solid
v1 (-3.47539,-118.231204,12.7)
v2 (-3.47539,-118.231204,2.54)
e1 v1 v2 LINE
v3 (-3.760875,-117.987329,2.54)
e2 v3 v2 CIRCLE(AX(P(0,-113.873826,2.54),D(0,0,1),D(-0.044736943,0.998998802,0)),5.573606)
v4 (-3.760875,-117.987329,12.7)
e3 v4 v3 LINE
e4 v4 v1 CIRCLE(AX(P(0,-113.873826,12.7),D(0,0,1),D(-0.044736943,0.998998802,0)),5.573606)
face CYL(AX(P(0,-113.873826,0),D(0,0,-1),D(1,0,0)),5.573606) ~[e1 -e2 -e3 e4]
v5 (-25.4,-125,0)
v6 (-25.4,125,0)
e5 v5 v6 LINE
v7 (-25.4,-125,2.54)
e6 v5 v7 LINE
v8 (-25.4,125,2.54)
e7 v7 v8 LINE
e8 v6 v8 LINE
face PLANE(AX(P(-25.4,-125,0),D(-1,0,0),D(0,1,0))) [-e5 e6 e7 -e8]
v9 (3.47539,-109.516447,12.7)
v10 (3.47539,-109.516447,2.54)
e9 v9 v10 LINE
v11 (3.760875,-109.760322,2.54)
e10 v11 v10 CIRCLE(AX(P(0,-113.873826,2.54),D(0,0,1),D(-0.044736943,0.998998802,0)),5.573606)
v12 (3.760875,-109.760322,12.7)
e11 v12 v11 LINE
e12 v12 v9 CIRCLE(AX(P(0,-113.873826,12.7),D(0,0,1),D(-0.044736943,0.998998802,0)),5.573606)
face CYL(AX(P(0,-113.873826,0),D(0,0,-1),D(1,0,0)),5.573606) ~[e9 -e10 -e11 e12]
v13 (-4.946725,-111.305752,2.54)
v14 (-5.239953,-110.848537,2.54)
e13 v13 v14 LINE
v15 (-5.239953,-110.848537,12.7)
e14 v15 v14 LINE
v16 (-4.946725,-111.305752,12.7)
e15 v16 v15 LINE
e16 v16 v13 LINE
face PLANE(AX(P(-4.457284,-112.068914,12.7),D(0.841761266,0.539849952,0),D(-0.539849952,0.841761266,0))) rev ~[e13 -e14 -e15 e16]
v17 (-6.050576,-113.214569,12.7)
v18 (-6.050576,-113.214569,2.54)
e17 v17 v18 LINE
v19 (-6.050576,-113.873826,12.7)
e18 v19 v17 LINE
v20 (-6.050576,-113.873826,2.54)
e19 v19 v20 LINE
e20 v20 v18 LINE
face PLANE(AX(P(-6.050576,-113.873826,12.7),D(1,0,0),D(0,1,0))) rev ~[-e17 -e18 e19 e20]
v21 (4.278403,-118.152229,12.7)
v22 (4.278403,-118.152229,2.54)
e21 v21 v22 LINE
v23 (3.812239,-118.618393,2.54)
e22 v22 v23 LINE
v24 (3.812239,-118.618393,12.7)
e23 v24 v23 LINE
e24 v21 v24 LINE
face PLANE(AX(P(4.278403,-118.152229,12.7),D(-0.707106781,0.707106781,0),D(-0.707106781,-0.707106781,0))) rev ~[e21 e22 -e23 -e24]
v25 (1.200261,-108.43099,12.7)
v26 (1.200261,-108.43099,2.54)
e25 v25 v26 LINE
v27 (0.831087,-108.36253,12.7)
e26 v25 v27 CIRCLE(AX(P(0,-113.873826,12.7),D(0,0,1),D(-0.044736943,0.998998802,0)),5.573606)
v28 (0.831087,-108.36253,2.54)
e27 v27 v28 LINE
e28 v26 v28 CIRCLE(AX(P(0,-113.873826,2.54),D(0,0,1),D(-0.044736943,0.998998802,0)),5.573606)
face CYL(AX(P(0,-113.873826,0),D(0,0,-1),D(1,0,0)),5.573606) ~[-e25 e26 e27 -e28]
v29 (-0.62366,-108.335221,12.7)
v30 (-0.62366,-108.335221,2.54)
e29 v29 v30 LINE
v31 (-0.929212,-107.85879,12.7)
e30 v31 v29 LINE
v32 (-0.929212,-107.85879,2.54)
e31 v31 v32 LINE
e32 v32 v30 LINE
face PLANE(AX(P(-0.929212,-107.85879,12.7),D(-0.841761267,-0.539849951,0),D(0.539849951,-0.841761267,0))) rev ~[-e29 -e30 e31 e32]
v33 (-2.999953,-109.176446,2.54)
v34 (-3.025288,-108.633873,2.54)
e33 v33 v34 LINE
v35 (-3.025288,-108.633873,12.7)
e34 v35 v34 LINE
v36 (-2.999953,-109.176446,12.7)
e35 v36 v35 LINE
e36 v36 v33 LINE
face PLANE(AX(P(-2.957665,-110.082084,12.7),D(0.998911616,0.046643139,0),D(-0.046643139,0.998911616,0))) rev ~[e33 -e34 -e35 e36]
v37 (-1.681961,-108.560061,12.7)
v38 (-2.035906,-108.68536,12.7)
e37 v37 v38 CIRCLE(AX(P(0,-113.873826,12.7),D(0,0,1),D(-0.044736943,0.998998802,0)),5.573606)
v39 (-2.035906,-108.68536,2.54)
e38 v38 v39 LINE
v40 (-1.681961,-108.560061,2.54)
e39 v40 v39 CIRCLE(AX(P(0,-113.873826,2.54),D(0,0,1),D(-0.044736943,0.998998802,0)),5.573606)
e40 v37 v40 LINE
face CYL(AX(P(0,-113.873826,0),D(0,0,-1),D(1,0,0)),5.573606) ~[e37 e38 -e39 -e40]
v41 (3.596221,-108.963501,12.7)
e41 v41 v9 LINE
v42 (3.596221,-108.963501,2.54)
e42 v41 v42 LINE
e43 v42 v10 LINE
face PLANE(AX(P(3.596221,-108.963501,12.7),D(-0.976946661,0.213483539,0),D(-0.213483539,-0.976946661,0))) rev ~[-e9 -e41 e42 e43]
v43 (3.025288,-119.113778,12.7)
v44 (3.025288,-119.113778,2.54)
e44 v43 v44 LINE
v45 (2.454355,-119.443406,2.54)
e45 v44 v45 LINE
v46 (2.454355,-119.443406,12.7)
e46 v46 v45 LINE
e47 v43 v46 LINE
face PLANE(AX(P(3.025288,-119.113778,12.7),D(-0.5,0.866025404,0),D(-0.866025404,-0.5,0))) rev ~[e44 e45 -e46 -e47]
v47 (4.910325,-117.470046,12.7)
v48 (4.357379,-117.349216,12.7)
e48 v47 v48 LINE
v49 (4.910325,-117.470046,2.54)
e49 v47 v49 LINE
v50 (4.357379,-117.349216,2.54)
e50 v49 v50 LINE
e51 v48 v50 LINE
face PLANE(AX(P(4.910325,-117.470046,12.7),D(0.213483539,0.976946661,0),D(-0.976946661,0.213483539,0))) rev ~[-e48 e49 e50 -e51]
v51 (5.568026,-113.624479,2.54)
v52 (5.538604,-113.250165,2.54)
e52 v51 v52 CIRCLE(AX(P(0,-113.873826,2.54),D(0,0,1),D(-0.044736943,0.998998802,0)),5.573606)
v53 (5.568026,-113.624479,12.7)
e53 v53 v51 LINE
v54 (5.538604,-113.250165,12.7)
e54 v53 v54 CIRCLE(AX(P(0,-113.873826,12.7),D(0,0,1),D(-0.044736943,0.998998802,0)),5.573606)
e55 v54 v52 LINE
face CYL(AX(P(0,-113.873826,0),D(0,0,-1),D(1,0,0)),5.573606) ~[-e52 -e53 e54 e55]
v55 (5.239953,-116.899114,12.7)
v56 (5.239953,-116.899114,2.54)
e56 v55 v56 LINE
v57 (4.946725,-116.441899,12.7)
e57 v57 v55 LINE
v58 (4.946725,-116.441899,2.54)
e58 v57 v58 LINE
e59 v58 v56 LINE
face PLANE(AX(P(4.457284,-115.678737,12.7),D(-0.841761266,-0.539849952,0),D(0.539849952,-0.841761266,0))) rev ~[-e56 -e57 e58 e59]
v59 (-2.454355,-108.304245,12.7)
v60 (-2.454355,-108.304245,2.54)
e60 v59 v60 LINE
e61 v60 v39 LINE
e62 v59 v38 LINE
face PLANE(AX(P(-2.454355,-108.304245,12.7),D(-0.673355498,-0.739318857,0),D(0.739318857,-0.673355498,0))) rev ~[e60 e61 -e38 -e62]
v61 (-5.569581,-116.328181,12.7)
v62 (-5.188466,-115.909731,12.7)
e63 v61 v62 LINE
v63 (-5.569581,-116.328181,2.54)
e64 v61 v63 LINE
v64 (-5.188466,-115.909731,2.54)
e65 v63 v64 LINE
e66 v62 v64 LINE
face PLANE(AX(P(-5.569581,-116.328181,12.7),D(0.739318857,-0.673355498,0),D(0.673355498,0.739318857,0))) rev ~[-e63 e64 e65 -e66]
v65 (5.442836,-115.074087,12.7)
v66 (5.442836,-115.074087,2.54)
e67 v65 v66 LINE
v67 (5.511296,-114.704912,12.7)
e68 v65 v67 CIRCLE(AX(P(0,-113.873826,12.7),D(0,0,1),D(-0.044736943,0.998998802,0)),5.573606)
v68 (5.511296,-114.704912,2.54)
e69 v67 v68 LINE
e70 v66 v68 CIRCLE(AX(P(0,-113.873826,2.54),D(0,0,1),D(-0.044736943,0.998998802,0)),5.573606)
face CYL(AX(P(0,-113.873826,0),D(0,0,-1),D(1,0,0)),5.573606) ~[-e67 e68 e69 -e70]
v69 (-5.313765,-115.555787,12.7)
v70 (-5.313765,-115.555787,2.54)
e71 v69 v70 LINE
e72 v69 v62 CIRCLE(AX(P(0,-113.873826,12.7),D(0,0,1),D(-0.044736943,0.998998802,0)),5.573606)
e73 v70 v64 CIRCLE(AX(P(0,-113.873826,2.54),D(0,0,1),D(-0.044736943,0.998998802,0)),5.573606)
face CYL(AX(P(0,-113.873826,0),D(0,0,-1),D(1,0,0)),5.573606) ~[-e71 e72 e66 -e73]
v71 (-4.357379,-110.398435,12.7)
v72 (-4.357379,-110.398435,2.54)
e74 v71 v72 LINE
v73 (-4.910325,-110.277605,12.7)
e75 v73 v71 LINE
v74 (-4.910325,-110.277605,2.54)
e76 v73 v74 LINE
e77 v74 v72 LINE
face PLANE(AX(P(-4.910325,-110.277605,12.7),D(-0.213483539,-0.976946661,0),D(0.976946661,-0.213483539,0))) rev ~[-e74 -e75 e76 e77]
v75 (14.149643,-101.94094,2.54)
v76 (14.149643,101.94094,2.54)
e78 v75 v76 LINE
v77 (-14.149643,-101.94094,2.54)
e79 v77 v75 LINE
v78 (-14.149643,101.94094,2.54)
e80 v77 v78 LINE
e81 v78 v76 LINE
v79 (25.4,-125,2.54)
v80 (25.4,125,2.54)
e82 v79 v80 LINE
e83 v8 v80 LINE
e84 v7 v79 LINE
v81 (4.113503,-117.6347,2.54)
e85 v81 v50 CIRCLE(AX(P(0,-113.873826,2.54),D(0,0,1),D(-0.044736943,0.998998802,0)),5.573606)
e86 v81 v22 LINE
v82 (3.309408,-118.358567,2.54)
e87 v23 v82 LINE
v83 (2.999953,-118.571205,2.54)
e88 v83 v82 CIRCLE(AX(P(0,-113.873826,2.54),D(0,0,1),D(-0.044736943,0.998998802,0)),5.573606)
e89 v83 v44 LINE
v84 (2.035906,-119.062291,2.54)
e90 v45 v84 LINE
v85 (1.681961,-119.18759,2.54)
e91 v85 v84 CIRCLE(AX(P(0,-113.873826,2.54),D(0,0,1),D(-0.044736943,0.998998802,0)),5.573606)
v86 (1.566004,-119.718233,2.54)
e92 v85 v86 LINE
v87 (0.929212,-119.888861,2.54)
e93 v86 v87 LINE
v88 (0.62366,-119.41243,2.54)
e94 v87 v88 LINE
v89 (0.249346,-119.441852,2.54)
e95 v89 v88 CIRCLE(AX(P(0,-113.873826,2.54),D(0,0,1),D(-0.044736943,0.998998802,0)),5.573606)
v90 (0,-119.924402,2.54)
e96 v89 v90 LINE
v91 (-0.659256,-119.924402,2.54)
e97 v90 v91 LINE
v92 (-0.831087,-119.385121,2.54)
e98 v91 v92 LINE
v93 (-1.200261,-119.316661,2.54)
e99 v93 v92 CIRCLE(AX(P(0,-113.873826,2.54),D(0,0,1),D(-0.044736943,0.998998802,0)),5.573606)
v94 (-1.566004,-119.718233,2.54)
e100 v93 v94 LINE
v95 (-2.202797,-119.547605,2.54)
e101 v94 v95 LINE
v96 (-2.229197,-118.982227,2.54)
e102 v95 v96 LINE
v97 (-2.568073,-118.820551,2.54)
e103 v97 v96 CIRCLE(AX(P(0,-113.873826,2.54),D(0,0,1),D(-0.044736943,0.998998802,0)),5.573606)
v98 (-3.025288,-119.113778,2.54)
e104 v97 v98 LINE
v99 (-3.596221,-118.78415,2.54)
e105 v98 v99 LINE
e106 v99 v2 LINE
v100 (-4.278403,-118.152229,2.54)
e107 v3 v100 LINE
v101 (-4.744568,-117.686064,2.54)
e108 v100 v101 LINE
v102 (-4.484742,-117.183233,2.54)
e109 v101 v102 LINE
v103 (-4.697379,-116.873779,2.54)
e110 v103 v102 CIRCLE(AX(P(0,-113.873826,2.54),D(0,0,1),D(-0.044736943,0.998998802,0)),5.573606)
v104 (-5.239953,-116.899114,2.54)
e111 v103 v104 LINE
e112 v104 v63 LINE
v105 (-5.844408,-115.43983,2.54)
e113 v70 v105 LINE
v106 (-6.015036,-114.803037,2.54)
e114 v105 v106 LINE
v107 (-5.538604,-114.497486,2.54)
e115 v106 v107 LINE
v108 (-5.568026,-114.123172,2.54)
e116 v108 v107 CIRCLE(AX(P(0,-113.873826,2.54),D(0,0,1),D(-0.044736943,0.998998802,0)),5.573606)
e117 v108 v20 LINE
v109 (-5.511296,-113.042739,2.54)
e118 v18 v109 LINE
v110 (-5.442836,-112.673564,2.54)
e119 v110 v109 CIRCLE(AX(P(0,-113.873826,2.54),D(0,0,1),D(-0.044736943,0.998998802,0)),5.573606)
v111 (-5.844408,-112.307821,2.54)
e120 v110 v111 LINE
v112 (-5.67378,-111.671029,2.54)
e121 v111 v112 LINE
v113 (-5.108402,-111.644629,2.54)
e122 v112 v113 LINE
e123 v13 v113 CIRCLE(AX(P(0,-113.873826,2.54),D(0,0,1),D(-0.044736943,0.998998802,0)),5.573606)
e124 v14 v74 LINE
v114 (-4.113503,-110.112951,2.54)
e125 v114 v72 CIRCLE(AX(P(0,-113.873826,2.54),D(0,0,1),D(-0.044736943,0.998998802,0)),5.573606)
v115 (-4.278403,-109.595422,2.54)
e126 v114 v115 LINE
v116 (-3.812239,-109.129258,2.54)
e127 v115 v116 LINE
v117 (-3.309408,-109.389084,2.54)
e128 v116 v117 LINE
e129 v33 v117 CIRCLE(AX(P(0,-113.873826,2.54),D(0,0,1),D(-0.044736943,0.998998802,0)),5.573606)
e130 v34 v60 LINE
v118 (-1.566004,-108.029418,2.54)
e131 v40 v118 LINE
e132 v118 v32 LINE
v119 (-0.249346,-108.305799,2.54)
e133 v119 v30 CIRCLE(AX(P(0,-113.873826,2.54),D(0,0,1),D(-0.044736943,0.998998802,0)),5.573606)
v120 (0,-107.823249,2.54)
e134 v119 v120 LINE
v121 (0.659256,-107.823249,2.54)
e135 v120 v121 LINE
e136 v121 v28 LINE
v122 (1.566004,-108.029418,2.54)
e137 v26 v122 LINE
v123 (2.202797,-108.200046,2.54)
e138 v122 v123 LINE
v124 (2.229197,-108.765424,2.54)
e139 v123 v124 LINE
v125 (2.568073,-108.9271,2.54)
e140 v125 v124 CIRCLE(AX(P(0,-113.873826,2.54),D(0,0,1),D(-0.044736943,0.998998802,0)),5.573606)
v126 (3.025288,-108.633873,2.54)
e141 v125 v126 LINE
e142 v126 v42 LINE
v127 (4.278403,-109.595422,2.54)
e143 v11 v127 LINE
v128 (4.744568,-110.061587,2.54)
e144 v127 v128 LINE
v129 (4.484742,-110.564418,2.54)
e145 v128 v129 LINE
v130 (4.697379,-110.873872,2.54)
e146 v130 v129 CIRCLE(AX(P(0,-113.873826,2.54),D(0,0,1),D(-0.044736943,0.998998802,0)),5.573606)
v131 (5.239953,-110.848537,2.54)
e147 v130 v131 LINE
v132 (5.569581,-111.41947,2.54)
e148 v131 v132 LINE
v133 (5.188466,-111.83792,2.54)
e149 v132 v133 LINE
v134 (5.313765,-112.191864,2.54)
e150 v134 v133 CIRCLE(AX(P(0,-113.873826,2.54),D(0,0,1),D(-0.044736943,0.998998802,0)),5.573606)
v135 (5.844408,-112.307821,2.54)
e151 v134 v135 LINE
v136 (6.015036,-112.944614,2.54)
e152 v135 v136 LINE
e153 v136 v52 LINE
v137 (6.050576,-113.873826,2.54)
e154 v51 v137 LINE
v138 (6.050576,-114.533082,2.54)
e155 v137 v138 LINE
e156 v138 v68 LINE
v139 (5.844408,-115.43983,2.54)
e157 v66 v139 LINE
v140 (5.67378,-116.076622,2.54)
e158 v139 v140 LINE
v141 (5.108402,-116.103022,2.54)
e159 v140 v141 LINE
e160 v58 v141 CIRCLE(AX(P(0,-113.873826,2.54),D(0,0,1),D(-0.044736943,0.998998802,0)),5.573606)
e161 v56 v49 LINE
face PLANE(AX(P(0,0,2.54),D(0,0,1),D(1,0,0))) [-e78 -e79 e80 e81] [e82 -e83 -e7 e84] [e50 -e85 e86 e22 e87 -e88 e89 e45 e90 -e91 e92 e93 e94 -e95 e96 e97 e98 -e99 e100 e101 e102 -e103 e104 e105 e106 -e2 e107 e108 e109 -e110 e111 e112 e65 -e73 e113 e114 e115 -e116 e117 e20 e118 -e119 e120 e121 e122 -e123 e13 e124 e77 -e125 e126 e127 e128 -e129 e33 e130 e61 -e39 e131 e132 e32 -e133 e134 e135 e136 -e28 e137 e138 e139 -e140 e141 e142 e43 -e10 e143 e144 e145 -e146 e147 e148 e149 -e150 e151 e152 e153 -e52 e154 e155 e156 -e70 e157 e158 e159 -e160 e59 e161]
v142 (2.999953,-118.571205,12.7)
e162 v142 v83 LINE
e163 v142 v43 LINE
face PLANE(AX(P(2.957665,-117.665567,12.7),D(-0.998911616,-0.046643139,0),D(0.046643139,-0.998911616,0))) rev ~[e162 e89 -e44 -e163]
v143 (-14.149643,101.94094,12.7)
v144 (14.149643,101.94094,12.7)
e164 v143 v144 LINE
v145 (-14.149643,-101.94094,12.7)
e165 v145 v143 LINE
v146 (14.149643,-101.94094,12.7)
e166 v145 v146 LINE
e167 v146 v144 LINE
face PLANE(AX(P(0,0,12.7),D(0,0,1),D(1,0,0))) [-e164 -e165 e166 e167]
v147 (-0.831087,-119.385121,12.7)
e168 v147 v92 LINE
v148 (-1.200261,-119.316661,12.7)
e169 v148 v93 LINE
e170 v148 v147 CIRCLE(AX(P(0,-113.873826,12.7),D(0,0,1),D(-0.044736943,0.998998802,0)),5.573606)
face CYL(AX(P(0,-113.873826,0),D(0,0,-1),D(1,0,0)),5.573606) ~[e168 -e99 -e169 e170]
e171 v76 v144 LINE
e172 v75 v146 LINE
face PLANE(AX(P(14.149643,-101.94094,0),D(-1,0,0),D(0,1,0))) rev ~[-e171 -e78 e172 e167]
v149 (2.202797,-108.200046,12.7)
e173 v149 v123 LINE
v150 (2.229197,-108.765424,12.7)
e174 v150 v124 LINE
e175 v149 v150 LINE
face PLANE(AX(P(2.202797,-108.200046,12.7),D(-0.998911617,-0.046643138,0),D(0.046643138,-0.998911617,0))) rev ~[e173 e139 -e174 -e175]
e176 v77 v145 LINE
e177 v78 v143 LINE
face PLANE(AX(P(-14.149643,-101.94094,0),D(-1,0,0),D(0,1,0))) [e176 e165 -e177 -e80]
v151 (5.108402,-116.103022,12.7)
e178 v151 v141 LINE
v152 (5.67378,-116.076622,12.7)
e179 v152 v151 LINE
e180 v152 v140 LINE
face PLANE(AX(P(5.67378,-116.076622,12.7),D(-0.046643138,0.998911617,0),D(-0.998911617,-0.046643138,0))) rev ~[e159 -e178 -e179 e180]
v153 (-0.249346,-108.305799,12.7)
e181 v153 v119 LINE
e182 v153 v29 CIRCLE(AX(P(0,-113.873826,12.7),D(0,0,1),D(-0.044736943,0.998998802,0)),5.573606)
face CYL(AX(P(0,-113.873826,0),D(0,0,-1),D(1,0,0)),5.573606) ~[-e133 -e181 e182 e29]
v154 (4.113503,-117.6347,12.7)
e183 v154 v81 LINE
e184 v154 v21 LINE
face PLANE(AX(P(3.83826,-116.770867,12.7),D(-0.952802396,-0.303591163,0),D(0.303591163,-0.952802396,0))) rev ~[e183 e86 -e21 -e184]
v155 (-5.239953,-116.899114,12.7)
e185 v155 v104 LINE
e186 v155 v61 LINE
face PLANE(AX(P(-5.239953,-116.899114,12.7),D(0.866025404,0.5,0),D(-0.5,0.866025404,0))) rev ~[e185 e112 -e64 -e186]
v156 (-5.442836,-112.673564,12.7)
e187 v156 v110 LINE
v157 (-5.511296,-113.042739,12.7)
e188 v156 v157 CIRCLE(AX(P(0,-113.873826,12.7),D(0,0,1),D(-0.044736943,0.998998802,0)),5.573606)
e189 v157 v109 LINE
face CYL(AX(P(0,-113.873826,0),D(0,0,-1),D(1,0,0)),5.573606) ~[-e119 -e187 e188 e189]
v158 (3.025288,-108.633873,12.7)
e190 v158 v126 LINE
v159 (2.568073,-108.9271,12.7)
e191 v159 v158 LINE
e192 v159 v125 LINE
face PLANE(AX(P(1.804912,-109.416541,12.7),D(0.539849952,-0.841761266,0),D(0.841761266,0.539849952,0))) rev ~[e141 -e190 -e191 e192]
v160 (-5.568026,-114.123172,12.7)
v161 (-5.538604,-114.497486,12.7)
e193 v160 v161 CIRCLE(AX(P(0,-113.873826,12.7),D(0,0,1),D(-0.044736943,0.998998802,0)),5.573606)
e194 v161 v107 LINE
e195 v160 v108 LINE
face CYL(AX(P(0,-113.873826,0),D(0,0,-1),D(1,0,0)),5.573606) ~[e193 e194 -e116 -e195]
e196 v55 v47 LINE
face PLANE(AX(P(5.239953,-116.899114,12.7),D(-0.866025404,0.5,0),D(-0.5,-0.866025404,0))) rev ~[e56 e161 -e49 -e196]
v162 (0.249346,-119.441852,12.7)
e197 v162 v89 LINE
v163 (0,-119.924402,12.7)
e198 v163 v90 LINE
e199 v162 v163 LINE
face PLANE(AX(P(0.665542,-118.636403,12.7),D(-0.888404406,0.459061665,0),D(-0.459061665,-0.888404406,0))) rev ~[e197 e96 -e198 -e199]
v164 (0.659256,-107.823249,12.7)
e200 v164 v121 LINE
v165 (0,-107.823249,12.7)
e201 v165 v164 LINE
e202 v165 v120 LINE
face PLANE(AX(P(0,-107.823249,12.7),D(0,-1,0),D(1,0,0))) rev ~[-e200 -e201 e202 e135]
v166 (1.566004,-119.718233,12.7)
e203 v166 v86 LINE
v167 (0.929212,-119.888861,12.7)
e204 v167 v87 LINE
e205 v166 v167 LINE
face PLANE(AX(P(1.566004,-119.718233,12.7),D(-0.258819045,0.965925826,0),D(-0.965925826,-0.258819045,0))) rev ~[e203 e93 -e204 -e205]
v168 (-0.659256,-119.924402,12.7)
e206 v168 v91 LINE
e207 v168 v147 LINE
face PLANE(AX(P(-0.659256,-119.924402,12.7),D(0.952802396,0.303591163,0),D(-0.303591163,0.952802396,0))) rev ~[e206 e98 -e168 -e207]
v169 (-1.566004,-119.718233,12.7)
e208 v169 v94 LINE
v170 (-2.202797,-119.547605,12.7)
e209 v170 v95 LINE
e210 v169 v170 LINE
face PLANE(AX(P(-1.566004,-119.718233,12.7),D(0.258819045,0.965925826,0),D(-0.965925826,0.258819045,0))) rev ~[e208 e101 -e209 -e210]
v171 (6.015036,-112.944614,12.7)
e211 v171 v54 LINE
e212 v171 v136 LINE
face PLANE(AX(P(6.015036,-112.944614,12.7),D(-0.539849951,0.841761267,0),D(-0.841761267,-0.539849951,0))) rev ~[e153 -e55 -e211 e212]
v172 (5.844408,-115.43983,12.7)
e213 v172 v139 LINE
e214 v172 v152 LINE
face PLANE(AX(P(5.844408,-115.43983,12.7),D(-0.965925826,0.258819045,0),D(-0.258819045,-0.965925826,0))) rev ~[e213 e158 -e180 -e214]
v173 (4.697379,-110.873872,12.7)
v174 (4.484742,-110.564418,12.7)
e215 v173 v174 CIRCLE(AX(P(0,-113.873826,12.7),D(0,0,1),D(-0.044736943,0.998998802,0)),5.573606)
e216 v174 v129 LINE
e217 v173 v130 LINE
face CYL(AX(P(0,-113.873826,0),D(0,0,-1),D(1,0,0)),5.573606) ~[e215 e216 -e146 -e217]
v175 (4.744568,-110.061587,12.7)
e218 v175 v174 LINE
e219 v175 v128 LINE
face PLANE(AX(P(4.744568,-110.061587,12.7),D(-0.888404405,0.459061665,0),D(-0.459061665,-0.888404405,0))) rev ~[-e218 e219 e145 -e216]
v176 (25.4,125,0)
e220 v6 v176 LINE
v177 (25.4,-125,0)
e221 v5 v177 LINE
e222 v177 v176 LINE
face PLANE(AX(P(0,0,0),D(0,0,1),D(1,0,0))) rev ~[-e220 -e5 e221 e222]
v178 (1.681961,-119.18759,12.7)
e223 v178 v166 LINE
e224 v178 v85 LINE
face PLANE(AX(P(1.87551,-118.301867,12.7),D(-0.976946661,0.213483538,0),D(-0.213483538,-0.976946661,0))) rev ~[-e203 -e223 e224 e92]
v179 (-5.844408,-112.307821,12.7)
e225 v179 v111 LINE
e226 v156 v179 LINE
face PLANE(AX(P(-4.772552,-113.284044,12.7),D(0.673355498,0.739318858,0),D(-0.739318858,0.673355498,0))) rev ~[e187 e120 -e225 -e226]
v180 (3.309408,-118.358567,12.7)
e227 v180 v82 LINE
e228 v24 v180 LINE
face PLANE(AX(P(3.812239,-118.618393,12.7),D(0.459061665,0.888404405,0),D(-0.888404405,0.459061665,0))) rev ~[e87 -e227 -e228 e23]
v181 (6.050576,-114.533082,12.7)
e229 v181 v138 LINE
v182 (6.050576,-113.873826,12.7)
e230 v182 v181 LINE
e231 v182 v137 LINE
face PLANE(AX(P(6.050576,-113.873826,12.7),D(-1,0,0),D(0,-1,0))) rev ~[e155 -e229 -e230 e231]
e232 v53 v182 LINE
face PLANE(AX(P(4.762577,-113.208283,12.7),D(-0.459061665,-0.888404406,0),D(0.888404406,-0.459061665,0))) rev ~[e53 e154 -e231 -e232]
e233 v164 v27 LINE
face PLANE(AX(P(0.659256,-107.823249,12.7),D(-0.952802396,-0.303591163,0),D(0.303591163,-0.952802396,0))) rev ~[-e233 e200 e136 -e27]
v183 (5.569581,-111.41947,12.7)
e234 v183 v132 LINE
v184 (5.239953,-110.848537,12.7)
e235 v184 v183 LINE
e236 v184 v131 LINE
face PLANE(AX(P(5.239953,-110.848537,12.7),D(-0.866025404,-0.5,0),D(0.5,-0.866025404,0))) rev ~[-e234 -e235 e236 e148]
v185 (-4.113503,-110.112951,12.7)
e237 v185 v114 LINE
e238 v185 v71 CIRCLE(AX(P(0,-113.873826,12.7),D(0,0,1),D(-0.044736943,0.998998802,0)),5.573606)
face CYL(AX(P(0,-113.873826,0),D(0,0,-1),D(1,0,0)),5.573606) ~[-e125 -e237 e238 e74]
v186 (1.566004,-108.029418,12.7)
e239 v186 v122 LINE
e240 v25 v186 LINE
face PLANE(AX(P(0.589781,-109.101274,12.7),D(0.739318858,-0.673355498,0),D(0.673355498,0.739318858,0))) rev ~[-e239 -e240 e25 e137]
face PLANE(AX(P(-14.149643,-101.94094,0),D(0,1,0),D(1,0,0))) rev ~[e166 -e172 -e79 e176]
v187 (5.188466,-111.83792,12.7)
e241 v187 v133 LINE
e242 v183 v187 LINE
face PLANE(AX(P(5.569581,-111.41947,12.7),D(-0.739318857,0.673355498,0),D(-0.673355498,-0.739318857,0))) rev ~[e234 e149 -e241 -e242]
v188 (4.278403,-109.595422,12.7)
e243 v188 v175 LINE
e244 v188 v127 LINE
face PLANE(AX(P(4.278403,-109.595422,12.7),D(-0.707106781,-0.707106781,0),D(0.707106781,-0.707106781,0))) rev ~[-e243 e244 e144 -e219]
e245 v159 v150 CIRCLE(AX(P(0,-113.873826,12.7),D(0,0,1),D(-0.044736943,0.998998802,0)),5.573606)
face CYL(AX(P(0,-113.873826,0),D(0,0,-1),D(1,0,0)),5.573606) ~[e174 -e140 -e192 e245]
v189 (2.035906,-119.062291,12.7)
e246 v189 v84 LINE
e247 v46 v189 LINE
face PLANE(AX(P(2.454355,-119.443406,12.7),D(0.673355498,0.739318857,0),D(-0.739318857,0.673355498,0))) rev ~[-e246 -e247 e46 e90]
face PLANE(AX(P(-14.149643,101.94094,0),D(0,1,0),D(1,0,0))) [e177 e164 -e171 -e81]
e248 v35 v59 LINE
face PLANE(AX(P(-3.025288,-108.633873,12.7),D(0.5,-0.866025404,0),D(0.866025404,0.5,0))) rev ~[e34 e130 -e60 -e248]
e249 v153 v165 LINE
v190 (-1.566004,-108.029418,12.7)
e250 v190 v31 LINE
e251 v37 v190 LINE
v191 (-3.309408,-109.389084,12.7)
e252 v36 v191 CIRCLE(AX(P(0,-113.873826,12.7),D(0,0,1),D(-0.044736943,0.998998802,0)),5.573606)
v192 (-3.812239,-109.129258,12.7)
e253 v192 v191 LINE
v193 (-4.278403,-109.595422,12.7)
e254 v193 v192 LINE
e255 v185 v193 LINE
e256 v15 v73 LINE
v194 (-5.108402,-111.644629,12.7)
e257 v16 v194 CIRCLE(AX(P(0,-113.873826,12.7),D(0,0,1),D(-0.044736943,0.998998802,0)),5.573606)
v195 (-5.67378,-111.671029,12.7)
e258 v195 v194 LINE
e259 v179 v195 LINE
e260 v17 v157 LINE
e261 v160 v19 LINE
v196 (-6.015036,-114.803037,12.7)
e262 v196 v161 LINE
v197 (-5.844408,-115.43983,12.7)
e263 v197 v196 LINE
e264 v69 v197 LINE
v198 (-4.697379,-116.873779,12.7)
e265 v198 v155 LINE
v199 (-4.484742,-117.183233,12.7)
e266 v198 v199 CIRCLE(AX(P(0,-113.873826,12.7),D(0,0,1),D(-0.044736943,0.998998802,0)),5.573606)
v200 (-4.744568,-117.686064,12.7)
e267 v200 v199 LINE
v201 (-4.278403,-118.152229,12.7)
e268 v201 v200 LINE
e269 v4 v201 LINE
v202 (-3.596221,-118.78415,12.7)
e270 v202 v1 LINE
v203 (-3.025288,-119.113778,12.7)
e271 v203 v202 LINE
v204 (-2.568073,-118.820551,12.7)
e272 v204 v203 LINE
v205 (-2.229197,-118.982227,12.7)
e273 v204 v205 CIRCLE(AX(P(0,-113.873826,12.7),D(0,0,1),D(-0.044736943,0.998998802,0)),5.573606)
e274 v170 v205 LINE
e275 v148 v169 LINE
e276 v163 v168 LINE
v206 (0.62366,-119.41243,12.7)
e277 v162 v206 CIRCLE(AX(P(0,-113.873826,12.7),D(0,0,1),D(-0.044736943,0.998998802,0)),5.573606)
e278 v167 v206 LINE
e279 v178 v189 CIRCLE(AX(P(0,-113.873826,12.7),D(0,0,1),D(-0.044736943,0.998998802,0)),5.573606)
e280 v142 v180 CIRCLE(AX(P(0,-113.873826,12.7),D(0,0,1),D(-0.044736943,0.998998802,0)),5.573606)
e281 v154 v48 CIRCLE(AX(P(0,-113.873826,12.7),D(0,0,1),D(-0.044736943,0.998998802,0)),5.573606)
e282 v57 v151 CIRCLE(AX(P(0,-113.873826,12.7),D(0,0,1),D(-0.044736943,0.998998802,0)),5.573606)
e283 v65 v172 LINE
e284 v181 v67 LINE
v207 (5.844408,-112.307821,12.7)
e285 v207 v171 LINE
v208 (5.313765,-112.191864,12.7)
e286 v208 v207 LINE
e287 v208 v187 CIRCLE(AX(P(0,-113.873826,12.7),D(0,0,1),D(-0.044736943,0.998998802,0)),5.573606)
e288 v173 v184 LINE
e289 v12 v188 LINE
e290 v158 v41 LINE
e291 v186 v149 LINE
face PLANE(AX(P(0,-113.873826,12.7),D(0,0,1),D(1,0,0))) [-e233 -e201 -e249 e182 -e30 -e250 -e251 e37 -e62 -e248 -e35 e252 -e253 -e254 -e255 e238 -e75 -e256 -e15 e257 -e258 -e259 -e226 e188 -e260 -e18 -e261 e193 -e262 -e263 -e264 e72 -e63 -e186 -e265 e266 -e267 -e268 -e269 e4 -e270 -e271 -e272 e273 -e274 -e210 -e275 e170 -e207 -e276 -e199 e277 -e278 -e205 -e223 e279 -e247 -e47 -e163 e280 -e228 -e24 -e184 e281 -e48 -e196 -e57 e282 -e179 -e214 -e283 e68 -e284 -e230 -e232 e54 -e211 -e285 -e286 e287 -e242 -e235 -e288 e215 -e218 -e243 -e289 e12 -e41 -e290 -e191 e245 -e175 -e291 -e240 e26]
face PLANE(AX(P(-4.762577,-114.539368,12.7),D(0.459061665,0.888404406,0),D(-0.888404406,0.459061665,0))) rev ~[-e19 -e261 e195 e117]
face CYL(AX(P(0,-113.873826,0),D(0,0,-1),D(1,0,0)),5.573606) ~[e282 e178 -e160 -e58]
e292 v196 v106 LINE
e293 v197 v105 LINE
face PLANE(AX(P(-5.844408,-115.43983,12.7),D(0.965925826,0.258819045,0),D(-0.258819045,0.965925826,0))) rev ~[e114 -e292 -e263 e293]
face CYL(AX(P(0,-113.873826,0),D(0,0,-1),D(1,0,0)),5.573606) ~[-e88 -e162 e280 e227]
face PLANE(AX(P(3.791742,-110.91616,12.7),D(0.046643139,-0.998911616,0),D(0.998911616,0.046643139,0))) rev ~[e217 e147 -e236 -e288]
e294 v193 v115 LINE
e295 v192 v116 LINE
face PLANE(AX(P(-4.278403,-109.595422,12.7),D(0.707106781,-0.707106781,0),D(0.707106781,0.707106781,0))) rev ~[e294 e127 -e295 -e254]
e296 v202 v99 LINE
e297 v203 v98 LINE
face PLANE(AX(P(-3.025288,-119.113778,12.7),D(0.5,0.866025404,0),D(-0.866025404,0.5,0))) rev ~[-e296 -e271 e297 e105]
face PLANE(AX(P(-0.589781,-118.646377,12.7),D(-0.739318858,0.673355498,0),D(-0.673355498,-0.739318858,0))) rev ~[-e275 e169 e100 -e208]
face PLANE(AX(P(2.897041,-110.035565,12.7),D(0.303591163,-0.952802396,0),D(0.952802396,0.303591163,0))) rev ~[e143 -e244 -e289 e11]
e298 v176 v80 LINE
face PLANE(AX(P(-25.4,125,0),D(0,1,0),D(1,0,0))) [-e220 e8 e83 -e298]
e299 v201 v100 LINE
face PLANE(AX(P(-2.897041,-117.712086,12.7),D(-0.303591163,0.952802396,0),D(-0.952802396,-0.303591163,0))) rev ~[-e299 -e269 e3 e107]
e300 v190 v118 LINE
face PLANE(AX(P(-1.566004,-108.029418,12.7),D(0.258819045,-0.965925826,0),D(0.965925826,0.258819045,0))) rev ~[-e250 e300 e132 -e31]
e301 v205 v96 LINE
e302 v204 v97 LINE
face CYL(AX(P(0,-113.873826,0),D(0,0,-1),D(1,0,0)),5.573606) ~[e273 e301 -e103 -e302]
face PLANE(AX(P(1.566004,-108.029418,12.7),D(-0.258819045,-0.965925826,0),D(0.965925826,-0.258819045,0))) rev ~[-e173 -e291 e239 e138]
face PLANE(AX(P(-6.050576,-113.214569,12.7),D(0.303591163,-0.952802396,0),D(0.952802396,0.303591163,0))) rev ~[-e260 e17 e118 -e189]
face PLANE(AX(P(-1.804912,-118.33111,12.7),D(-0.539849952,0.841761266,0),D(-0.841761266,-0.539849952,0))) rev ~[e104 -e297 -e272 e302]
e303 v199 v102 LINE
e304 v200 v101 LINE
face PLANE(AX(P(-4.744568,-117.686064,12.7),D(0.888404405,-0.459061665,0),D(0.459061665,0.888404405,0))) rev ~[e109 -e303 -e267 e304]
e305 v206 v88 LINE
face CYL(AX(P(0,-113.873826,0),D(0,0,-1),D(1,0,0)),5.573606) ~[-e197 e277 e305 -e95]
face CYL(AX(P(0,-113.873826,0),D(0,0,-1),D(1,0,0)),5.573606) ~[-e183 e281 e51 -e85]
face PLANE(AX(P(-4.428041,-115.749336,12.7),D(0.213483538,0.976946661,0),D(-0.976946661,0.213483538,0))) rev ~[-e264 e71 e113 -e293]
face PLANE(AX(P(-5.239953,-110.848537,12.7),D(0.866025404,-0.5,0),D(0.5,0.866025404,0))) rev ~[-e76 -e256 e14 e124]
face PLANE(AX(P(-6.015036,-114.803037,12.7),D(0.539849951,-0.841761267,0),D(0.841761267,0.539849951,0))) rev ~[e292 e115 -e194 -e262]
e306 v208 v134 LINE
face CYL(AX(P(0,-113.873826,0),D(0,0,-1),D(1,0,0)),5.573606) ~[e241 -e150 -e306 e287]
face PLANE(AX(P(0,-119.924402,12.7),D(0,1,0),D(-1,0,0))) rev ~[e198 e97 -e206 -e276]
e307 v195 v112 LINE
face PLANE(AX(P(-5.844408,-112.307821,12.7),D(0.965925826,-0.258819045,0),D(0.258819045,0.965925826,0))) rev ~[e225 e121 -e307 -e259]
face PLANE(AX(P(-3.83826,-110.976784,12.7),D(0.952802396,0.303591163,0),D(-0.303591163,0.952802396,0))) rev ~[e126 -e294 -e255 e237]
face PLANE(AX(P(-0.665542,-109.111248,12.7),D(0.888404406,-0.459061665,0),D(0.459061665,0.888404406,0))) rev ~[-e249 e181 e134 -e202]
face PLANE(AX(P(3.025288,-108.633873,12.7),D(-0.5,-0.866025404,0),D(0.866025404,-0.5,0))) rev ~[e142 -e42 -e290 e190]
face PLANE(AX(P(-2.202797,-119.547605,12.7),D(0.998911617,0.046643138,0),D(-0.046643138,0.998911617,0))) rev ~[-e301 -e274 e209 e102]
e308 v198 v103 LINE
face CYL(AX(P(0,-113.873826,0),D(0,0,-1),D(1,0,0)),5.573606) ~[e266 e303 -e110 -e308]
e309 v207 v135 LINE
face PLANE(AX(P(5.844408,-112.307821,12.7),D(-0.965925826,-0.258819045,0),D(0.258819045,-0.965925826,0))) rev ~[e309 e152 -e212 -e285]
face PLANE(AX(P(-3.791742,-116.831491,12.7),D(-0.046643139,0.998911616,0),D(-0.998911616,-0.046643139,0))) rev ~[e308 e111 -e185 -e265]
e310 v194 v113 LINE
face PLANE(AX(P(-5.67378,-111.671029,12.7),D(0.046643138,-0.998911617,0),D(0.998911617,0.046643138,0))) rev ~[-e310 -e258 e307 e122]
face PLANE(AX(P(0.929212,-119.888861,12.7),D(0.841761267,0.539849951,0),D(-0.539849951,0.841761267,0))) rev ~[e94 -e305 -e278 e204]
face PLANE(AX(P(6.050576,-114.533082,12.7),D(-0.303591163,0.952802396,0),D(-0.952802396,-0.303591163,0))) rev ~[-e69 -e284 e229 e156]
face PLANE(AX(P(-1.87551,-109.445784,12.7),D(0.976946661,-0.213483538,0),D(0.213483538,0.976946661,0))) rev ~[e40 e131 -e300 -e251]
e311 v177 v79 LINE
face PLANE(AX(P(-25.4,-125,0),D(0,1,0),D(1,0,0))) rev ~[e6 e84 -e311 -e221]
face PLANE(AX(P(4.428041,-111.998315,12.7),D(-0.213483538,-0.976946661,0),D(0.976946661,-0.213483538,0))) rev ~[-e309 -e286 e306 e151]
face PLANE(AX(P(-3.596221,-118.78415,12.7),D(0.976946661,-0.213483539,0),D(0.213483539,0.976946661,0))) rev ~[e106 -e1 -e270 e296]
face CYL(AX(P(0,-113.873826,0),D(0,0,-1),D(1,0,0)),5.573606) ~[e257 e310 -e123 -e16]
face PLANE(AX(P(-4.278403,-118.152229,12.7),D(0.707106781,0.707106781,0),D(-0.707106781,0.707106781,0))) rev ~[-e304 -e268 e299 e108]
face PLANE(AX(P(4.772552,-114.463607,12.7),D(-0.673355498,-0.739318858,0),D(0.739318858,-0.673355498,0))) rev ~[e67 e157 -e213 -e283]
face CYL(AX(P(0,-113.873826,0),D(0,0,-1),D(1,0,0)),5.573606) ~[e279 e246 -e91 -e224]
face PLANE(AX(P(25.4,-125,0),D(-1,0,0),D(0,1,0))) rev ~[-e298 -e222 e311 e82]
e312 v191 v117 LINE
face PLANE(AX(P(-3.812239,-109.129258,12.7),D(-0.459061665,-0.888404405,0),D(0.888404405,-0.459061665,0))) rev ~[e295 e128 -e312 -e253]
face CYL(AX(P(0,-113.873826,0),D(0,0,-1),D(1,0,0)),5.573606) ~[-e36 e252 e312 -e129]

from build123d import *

# Parameters (mm, degrees)
SKETCH1_W           = 50.8
SKETCH1_H           = 250
SKETCH1_R           = 5.573606459
SKETCH1_W_2         = 28.29928572
SKETCH1_H_2         = 203.881879194
BOSS_EXTRUDE1_DEPTH = 2.54
SKETCH1_2_W         = 28.29928572
SKETCH1_2_H         = 203.881879194
BOSS_EXTRUDE2_DEPTH = 12.7
SKETCH1_3_R         = 5.573606459
BOSS_EXTRUDE3_DEPTH = 12.7
BOSS_EXTRUDE4_DEPTH = 10.16
CIRPATTERN1_COUNT   = 24


with BuildPart() as part:
    # Sketch1 → Boss-Extrude1 (new body)
    with BuildSketch(Plane.XY):
        Rectangle(SKETCH1_W, SKETCH1_H)
        with Locations((0, -113.873825503)):
            Circle(SKETCH1_R, mode=Mode.SUBTRACT)
        Rectangle(SKETCH1_W_2, SKETCH1_H_2, mode=Mode.SUBTRACT)
    extrude(amount=BOSS_EXTRUDE1_DEPTH)

    # Sketch1<2> → Boss-Extrude2 (add)
    with BuildSketch(Plane.XY):
        Rectangle(SKETCH1_2_W, SKETCH1_2_H)
    extrude(amount=BOSS_EXTRUDE2_DEPTH)

    # Sketch1<3> → Boss-Extrude3 (add)
    with BuildSketch(Plane.XY):
        with Locations((0, -113.873825503)):
            Circle(SKETCH1_3_R)
    extrude(amount=BOSS_EXTRUDE3_DEPTH)

    # Sketch2 → Boss-Extrude4 (add)
    with BuildSketch(Plane.XY.offset(12.7)):
        Polygon((-0.665542468, -109.111248143), (0, -107.823249371), (0.659256269, -107.823249371), (1.06965096, -109.111248143), align=None)
    boss_extrude4 = extrude(amount=-BOSS_EXTRUDE4_DEPTH)

    # CirPattern1: Boss-Extrude4 ×24 about axis
    cirpattern1_axis = Axis((0, -113.873825503, 12.7), (0, 0, -1))
    for i in range(1, CIRPATTERN1_COUNT):
        add(boss_extrude4.rotate(cirpattern1_axis, i * 360 / CIRPATTERN1_COUNT))


solid = part.part
